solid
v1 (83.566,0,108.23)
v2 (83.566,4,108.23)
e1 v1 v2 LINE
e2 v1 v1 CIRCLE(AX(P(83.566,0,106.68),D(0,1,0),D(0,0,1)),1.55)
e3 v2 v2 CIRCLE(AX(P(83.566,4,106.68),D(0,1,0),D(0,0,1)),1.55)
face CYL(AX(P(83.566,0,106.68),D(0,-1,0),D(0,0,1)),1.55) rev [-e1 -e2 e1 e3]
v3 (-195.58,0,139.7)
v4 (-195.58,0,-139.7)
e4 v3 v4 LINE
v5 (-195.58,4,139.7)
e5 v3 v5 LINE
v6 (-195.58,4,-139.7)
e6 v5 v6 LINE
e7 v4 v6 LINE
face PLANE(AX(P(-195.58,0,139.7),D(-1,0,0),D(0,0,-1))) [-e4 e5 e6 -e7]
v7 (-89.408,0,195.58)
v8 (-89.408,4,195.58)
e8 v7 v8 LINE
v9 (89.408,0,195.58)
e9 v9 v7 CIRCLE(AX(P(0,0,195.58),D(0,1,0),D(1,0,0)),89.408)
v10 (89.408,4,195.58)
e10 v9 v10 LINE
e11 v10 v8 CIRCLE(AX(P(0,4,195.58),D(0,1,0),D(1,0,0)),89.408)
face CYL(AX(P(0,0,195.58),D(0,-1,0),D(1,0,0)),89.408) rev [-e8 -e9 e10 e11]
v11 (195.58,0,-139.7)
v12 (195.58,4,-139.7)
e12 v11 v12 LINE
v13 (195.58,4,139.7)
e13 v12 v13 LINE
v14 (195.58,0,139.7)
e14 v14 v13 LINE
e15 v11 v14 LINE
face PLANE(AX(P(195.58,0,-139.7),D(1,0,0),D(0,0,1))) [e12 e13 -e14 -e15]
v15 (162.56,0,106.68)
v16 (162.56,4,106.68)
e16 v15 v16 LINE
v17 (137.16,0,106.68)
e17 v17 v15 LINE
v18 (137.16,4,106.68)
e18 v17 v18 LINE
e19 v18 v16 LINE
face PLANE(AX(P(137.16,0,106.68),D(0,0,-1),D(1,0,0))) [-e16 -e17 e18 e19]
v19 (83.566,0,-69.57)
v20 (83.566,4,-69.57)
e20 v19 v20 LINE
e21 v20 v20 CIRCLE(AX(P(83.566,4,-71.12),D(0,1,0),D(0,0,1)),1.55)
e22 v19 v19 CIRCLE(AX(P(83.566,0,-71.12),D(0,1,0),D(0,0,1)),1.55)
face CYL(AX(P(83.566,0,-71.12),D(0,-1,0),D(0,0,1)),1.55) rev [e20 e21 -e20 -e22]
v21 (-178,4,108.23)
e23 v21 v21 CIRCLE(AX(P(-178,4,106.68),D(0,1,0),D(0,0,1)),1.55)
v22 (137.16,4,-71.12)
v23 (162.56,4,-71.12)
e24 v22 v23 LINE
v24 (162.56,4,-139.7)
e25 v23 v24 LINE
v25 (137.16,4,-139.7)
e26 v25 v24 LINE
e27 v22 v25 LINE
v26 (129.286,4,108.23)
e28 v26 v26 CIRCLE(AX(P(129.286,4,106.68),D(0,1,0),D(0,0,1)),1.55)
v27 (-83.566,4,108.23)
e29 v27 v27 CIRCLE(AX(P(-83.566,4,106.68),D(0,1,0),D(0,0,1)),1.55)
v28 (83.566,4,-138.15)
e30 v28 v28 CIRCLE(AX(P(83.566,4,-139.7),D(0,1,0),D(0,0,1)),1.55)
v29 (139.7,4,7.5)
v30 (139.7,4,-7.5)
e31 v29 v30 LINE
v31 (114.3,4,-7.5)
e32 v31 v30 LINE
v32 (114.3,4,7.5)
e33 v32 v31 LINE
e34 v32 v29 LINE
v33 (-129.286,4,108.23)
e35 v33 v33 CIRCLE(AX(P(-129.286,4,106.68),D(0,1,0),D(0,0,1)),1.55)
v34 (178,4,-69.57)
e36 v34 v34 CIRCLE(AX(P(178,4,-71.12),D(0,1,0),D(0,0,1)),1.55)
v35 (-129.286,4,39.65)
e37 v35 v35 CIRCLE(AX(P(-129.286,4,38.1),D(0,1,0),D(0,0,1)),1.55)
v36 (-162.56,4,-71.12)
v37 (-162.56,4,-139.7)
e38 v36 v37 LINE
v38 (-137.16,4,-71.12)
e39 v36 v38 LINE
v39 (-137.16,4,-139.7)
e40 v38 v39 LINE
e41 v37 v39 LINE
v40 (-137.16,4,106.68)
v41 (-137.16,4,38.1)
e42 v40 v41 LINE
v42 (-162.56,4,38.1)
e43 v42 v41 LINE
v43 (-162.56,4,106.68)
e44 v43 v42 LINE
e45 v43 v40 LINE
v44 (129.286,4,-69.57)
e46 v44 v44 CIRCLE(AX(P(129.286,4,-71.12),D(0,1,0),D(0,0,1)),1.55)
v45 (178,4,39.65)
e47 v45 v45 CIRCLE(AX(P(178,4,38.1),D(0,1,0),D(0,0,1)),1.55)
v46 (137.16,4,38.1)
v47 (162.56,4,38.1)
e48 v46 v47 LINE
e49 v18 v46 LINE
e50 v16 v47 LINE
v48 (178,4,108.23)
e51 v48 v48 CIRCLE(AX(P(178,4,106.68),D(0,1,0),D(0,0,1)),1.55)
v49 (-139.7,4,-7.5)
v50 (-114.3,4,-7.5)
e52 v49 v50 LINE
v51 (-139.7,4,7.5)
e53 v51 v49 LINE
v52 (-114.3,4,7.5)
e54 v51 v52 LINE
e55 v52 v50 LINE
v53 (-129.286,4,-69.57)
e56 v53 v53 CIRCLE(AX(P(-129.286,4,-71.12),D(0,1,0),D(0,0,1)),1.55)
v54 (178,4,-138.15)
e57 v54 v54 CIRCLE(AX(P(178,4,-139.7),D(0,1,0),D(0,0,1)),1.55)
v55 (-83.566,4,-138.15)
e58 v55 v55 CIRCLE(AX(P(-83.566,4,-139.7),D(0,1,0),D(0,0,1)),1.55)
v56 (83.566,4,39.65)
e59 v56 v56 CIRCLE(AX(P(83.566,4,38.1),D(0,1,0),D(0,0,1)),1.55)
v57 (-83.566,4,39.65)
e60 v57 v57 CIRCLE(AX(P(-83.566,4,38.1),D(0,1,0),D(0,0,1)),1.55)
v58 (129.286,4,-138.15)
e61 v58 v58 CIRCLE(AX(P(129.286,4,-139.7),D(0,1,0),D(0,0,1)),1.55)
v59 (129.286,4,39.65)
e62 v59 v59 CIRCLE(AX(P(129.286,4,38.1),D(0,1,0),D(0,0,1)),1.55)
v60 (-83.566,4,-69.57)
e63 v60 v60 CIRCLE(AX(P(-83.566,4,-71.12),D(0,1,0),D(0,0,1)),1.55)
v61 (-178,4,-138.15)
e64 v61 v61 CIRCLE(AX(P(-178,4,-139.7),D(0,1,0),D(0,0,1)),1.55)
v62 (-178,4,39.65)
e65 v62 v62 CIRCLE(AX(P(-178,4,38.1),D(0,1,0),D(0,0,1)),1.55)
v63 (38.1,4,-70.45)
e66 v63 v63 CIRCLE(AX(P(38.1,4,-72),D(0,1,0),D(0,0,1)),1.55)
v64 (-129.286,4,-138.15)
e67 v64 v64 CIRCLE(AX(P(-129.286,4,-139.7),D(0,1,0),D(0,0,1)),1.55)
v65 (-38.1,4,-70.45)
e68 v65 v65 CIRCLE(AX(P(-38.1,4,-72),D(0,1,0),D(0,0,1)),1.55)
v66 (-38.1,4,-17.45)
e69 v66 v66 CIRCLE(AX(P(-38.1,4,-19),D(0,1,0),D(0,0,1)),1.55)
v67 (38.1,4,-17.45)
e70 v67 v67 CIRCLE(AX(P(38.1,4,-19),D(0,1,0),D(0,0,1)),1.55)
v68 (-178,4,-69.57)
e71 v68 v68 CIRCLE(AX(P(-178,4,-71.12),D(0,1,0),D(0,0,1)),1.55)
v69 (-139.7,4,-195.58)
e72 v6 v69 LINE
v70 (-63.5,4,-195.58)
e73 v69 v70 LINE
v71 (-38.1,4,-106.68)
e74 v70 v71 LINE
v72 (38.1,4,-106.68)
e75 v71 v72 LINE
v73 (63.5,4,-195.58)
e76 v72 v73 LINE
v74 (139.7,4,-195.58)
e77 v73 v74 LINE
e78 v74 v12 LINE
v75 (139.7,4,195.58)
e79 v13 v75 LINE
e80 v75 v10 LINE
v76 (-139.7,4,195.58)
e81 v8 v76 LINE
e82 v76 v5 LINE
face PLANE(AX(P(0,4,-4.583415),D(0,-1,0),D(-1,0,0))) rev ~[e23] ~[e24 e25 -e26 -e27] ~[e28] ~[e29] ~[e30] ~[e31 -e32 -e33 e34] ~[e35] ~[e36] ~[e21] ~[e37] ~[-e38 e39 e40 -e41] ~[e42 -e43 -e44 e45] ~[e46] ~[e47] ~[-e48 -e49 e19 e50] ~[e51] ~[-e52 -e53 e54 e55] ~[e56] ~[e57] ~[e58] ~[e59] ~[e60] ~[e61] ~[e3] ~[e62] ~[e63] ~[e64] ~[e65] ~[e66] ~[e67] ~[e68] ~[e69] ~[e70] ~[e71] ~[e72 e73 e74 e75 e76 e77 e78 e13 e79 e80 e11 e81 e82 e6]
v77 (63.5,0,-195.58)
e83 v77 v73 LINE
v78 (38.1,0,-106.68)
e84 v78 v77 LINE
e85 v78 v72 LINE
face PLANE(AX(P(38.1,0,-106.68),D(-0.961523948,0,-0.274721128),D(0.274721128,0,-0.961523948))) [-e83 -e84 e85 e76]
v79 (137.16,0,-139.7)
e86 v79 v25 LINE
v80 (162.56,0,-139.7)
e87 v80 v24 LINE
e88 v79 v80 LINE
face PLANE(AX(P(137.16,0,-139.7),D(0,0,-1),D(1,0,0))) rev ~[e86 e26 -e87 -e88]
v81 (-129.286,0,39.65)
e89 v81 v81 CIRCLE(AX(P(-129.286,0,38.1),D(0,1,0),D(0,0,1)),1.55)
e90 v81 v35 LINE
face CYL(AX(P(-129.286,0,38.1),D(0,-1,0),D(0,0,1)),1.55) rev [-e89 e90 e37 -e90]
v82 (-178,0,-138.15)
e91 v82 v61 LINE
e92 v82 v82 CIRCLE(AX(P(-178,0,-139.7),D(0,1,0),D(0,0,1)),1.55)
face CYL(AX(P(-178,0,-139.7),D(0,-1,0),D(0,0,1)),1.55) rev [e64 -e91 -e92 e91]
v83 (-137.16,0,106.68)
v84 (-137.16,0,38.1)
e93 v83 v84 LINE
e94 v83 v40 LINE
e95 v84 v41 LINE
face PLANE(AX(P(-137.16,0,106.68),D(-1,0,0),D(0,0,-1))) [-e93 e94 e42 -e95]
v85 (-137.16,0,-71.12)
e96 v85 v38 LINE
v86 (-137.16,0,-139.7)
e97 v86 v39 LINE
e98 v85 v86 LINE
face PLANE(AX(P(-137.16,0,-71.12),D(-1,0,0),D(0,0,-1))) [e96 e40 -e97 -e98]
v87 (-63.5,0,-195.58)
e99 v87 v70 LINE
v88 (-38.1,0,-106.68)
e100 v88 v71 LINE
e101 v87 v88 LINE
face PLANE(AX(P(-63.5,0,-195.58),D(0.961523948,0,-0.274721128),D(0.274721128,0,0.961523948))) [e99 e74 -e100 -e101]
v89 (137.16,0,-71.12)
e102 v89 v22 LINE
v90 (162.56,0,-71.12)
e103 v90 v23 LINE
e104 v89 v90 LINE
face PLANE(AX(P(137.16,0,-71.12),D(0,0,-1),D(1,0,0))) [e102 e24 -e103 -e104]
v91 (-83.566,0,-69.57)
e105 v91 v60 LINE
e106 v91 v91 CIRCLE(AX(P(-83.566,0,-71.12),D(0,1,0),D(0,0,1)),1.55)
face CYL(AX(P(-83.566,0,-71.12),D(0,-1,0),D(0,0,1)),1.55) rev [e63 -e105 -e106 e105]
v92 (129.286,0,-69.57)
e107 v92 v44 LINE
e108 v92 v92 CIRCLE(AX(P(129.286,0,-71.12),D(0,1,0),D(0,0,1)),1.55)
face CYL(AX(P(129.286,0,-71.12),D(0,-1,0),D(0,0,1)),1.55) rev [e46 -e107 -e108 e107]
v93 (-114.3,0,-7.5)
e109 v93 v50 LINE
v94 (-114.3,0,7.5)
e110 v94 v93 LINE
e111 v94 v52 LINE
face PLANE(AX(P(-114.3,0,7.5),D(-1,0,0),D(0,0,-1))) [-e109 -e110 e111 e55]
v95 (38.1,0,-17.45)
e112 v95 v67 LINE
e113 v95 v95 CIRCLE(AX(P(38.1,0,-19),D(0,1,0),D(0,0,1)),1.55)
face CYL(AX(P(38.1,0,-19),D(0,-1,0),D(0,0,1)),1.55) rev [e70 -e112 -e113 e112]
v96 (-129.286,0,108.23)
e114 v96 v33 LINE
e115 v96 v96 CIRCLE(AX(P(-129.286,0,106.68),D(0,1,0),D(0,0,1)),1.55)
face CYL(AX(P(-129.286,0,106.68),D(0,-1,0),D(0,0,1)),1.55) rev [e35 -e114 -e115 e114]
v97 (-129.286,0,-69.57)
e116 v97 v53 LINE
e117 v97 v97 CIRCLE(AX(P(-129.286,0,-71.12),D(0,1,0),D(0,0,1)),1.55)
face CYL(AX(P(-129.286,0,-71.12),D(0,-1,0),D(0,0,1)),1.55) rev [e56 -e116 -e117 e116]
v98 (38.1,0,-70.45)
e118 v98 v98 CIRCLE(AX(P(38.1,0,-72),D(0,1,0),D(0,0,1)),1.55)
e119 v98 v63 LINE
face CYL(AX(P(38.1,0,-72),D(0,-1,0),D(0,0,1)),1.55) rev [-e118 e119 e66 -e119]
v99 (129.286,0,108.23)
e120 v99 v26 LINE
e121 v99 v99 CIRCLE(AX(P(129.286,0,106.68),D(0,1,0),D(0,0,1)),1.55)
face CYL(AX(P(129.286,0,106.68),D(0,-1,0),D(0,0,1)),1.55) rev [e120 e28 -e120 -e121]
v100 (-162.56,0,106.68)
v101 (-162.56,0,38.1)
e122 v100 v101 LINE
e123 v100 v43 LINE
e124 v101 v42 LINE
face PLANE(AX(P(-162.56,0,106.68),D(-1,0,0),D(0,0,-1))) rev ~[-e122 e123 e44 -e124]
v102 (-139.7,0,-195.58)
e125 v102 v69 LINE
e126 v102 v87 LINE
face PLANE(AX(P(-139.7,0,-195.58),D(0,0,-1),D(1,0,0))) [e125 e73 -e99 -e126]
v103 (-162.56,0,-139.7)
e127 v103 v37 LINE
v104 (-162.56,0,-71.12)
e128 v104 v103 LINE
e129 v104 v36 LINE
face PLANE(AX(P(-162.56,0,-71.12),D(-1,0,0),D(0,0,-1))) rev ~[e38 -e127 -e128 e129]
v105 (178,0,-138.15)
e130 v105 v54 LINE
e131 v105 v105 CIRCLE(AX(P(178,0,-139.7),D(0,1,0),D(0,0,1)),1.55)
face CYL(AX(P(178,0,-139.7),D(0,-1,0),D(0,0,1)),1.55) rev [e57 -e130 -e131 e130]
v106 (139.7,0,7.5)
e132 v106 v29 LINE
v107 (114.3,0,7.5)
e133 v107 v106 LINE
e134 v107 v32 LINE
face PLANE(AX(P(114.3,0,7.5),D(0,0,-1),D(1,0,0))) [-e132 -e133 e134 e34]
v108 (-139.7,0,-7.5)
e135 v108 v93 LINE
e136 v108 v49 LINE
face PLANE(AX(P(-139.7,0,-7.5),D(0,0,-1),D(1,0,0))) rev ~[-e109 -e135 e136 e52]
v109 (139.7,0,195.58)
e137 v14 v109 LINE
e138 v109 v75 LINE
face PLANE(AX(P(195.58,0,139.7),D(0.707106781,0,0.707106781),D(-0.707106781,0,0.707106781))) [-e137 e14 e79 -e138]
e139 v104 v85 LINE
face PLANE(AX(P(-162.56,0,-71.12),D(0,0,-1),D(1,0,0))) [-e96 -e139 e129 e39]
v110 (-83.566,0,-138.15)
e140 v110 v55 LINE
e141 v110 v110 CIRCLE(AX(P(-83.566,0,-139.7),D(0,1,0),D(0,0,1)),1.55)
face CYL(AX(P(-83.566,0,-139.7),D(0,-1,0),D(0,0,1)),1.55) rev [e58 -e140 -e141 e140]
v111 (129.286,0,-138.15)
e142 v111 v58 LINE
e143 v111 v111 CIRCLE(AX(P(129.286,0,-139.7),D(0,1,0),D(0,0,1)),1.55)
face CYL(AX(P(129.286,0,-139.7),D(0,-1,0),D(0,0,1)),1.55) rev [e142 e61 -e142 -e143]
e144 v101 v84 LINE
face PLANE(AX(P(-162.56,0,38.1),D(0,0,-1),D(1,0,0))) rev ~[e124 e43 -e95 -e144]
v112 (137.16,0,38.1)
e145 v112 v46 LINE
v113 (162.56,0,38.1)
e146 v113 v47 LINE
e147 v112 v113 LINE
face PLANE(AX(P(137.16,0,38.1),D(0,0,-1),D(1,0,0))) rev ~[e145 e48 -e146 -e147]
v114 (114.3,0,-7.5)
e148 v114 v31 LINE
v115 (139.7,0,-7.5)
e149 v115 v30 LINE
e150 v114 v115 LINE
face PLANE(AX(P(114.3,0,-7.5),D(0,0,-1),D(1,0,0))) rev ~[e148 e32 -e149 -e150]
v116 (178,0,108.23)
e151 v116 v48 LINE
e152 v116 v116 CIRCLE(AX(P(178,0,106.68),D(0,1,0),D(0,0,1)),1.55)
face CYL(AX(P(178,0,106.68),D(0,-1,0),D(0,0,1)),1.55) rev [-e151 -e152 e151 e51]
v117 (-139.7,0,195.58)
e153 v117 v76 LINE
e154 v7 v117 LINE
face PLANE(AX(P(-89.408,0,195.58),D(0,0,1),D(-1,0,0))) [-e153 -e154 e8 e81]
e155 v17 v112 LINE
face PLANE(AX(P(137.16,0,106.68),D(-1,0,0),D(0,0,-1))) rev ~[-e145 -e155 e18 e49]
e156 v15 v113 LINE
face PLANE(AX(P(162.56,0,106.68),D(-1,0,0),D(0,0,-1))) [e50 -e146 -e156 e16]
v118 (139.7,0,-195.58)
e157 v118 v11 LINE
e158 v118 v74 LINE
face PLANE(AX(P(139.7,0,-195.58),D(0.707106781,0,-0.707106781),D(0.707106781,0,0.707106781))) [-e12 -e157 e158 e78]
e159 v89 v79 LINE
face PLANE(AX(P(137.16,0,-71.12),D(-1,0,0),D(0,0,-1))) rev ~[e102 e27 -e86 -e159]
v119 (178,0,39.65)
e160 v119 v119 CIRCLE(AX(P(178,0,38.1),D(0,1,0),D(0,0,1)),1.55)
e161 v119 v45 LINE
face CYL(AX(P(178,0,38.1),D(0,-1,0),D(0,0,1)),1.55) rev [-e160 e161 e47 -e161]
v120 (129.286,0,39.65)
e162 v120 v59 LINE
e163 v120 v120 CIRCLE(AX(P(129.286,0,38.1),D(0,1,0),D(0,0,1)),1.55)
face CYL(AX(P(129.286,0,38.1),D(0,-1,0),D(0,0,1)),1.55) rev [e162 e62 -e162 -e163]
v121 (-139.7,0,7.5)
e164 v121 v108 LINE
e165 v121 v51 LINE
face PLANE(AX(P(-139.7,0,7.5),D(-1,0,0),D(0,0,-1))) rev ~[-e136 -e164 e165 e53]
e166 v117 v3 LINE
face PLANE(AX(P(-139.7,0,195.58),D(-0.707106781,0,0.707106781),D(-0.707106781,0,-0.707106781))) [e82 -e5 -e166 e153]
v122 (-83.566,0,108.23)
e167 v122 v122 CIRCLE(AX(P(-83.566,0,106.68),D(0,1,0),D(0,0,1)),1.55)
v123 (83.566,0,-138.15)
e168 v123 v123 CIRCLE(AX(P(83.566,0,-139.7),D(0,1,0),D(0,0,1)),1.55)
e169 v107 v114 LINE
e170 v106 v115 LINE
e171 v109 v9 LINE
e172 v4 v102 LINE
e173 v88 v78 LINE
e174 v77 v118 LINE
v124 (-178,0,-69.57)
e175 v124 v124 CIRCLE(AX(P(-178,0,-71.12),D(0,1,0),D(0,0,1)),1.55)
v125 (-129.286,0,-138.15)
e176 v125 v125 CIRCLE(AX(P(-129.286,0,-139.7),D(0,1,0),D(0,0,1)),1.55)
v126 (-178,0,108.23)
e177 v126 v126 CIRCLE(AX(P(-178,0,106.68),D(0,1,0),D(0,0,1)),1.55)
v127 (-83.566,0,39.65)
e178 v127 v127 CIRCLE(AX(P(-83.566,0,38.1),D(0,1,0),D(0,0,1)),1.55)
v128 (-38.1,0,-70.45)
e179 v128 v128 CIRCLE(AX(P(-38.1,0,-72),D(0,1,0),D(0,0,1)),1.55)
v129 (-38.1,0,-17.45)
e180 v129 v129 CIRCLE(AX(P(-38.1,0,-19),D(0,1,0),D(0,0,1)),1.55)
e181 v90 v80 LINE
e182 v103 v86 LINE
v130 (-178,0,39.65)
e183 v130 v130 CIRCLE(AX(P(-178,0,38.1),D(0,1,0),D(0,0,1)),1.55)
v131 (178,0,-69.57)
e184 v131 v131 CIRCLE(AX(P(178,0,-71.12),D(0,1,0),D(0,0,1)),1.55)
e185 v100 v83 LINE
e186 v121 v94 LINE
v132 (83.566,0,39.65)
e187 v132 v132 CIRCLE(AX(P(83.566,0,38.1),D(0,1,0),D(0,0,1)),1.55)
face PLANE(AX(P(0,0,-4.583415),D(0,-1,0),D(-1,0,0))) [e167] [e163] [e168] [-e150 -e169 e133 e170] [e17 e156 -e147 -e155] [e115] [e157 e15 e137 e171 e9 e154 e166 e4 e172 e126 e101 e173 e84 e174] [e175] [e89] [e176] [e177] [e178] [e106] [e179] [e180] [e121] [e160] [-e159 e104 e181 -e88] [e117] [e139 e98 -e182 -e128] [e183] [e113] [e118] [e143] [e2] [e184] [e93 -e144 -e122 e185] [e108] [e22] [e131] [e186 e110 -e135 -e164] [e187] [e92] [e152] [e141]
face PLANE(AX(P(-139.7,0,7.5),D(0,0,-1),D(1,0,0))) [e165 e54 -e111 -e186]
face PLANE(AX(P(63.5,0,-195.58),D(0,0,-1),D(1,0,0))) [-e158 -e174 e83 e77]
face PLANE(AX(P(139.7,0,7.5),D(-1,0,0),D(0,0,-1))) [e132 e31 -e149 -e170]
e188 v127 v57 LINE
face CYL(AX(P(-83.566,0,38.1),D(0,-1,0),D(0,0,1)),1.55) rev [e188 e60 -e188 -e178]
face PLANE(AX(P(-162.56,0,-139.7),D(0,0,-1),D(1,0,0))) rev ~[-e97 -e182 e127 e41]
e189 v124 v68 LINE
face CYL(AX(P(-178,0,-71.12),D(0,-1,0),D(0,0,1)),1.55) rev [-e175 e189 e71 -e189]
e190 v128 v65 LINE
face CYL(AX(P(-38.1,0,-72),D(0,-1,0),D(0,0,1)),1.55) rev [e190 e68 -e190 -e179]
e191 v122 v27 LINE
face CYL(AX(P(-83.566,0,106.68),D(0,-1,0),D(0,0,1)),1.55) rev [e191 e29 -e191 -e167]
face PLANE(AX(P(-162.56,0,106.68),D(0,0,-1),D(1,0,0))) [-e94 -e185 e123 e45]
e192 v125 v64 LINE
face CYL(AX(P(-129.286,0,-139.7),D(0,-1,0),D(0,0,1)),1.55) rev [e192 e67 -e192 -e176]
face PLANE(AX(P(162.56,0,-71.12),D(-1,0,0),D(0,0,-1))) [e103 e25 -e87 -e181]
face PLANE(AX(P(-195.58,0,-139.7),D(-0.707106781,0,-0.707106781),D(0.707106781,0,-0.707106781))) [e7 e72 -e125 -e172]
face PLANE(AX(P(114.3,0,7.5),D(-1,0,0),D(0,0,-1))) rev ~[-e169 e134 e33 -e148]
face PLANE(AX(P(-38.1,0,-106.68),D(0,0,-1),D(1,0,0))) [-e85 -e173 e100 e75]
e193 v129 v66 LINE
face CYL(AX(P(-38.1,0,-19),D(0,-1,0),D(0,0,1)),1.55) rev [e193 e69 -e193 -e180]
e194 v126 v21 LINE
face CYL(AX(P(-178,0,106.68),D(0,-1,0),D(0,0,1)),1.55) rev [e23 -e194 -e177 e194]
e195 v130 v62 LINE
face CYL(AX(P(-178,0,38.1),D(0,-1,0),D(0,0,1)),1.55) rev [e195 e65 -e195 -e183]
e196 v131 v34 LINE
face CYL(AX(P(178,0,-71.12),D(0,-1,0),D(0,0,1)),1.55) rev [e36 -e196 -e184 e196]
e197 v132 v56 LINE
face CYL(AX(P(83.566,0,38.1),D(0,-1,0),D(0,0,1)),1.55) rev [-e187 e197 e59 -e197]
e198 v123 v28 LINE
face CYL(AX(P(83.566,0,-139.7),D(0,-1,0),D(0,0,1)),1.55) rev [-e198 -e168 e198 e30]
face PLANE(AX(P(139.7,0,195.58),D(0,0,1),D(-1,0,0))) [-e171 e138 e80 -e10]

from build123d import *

# Parameters (mm, degrees)
EXTRUDE_1_DEPTH        = 4
SKETCH_1_4_OUTSIDE_W   = 503.8
SKETCH_1_4_OUTSIDE_H   = 503.8
SKETCH_1_4_OUTSIDE_R   = 1.55
SKETCH_1_4_OUTSIDE_W_2 = 25.4
SKETCH_1_4_OUTSIDE_H_2 = 68.58
SKETCH_1_4_OUTSIDE_H_3 = 15
CUT_EXTRUDE_2_DEPTH    = 4


with BuildPart() as part:
    # 草图1 → 凸台-拉伸1 (new body)
    with BuildSketch(Plane(origin=(0, 0, 0), x_dir=(1, 0, 0), z_dir=(0, 1, 0))):
        with BuildLine():
            Line((139.7, -195.58), (89.408, -195.58))
            ThreePointArc((89.408, -195.58), (0, -106.172), (-89.408, -195.58))
            Line((-89.408, -195.58), (-139.7, -195.58))
            Line((-139.7, -195.58), (-195.58, -139.7))
            Line((-195.58, -139.7), (-195.58, 139.7))
            Line((-195.58, 139.7), (-139.7, 195.58))
            Line((-139.7, 195.58), (-63.5, 195.58))
            Line((-63.5, 195.58), (-38.1, 106.68))
            Line((-38.1, 106.68), (38.1, 106.68))
            Line((38.1, 106.68), (63.5, 195.58))
            Line((63.5, 195.58), (139.7, 195.58))
            Line((139.7, 195.58), (195.58, 139.7))
            Line((195.58, 139.7), (195.58, -139.7))
            Line((195.58, -139.7), (139.7, -195.58))
        make_face()
    extrude(amount=EXTRUDE_1_DEPTH)

    # 草图1<4> outside → 切除-拉伸2 (cut)
    # profile 1 of 35: a face of its own
    with BuildSketch(Plane(origin=(0, 0, 0), x_dir=(1, 0, 0), z_dir=(0, 1, 0))):
        Rectangle(SKETCH_1_4_OUTSIDE_W, SKETCH_1_4_OUTSIDE_H)
        with BuildLine():
            Line((139.7, -195.58), (89.408, -195.58))
            ThreePointArc((89.408, -195.58), (0, -106.172), (-89.408, -195.58))
            Line((-89.408, -195.58), (-139.7, -195.58))
            Line((-139.7, -195.58), (-195.58, -139.7))
            Line((-195.58, -139.7), (-195.58, 139.7))
            Line((-195.58, 139.7), (-139.7, 195.58))
            Line((-139.7, 195.58), (-63.5, 195.58))
            Line((-63.5, 195.58), (-38.1, 106.68))
            Line((-38.1, 106.68), (38.1, 106.68))
            Line((38.1, 106.68), (63.5, 195.58))
            Line((63.5, 195.58), (139.7, 195.58))
            Line((139.7, 195.58), (195.58, 139.7))
            Line((195.58, 139.7), (195.58, -139.7))
            Line((195.58, -139.7), (139.7, -195.58))
        make_face(mode=Mode.SUBTRACT)
    # profile 2 of 35: a face of its own
    with BuildSketch(Plane(origin=(0, 0, 0), x_dir=(1, 0, 0), z_dir=(0, 1, 0))):
        with Locations((-83.566, 139.7)):
            Circle(SKETCH_1_4_OUTSIDE_R)
    # profile 3 of 35: a face of its own
    with BuildSketch(Plane(origin=(0, 0, 0), x_dir=(1, 0, 0), z_dir=(0, 1, 0))):
        with Locations((-129.286, 139.7)):
            Circle(SKETCH_1_4_OUTSIDE_R)
    # profile 4 of 35: a face of its own
    with BuildSketch(Plane(origin=(0, 0, 0), x_dir=(1, 0, 0), z_dir=(0, 1, 0))):
        with Locations((-83.566, -106.68)):
            Circle(SKETCH_1_4_OUTSIDE_R)
    # profile 5 of 35: a face of its own
    with BuildSketch(Plane(origin=(0, 0, 0), x_dir=(1, 0, 0), z_dir=(0, 1, 0))):
        with Locations((-129.286, -106.68)):
            Circle(SKETCH_1_4_OUTSIDE_R)
    # profile 6 of 35: a face of its own
    with BuildSketch(Plane(origin=(0, 0, 0), x_dir=(1, 0, 0), z_dir=(0, 1, 0))):
        with Locations((83.566, 139.7)):
            Circle(SKETCH_1_4_OUTSIDE_R)
    # profile 7 of 35: a face of its own
    with BuildSketch(Plane(origin=(0, 0, 0), x_dir=(1, 0, 0), z_dir=(0, 1, 0))):
        with Locations((129.286, 139.7)):
            Circle(SKETCH_1_4_OUTSIDE_R)
    # profile 8 of 35: a face of its own
    with BuildSketch(Plane(origin=(0, 0, 0), x_dir=(1, 0, 0), z_dir=(0, 1, 0))):
        with Locations((83.566, -106.68)):
            Circle(SKETCH_1_4_OUTSIDE_R)
    # profile 9 of 35: a face of its own
    with BuildSketch(Plane(origin=(0, 0, 0), x_dir=(1, 0, 0), z_dir=(0, 1, 0))):
        with Locations((129.286, -106.68)):
            Circle(SKETCH_1_4_OUTSIDE_R)
    # profile 10 of 35: a face of its own
    with BuildSketch(Plane(origin=(0, 0, 0), x_dir=(1, 0, 0), z_dir=(0, 1, 0))):
        with Locations((-129.286, 71.12)):
            Circle(SKETCH_1_4_OUTSIDE_R)
    # profile 11 of 35: a face of its own
    with BuildSketch(Plane(origin=(0, 0, 0), x_dir=(1, 0, 0), z_dir=(0, 1, 0))):
        with Locations((-83.566, 71.12)):
            Circle(SKETCH_1_4_OUTSIDE_R)
    # profile 12 of 35: a face of its own
    with BuildSketch(Plane(origin=(0, 0, 0), x_dir=(1, 0, 0), z_dir=(0, 1, 0))):
        with Locations((83.566, 71.12)):
            Circle(SKETCH_1_4_OUTSIDE_R)
    # profile 13 of 35: a face of its own
    with BuildSketch(Plane(origin=(0, 0, 0), x_dir=(1, 0, 0), z_dir=(0, 1, 0))):
        with Locations((129.286, 71.12)):
            Circle(SKETCH_1_4_OUTSIDE_R)
    # profile 14 of 35: a face of its own
    with BuildSketch(Plane(origin=(0, 0, 0), x_dir=(1, 0, 0), z_dir=(0, 1, 0))):
        with Locations((-129.286, -38.1)):
            Circle(SKETCH_1_4_OUTSIDE_R)
    # profile 15 of 35: a face of its own
    with BuildSketch(Plane(origin=(0, 0, 0), x_dir=(1, 0, 0), z_dir=(0, 1, 0))):
        with Locations((-83.566, -38.1)):
            Circle(SKETCH_1_4_OUTSIDE_R)
    # profile 16 of 35: a face of its own
    with BuildSketch(Plane(origin=(0, 0, 0), x_dir=(1, 0, 0), z_dir=(0, 1, 0))):
        with Locations((83.566, -38.1)):
            Circle(SKETCH_1_4_OUTSIDE_R)
    # profile 17 of 35: a face of its own
    with BuildSketch(Plane(origin=(0, 0, 0), x_dir=(1, 0, 0), z_dir=(0, 1, 0))):
        with Locations((129.286, -38.1)):
            Circle(SKETCH_1_4_OUTSIDE_R)
    # profile 18 of 35: a face of its own
    with BuildSketch(Plane(origin=(0, 0, 0), x_dir=(1, 0, 0), z_dir=(0, 1, 0))):
        with Locations((-178, -38.1)):
            Circle(SKETCH_1_4_OUTSIDE_R)
    # profile 19 of 35: a face of its own
    with BuildSketch(Plane(origin=(0, 0, 0), x_dir=(1, 0, 0), z_dir=(0, 1, 0))):
        with Locations((-178, -106.68)):
            Circle(SKETCH_1_4_OUTSIDE_R)
    # profile 20 of 35: a face of its own
    with BuildSketch(Plane(origin=(0, 0, 0), x_dir=(1, 0, 0), z_dir=(0, 1, 0))):
        with Locations((178, -106.68)):
            Circle(SKETCH_1_4_OUTSIDE_R)
    # profile 21 of 35: a face of its own
    with BuildSketch(Plane(origin=(0, 0, 0), x_dir=(1, 0, 0), z_dir=(0, 1, 0))):
        with Locations((178, -38.1)):
            Circle(SKETCH_1_4_OUTSIDE_R)
    # profile 22 of 35: a face of its own
    with BuildSketch(Plane(origin=(0, 0, 0), x_dir=(1, 0, 0), z_dir=(0, 1, 0))):
        with Locations((-178, 139.7)):
            Circle(SKETCH_1_4_OUTSIDE_R)
    # profile 23 of 35: a face of its own
    with BuildSketch(Plane(origin=(0, 0, 0), x_dir=(1, 0, 0), z_dir=(0, 1, 0))):
        with Locations((-178, 71.12)):
            Circle(SKETCH_1_4_OUTSIDE_R)
    # profile 24 of 35: a face of its own
    with BuildSketch(Plane(origin=(0, 0, 0), x_dir=(1, 0, 0), z_dir=(0, 1, 0))):
        with Locations((178, 139.7)):
            Circle(SKETCH_1_4_OUTSIDE_R)
    # profile 25 of 35: a face of its own
    with BuildSketch(Plane(origin=(0, 0, 0), x_dir=(1, 0, 0), z_dir=(0, 1, 0))):
        with Locations((178, 71.12)):
            Circle(SKETCH_1_4_OUTSIDE_R)
    # profile 26 of 35: a face of its own
    with BuildSketch(Plane(origin=(0, 0, 0), x_dir=(1, 0, 0), z_dir=(0, 1, 0))):
        with Locations((-38.1, 72)):
            Circle(SKETCH_1_4_OUTSIDE_R)
    # profile 27 of 35: a face of its own
    with BuildSketch(Plane(origin=(0, 0, 0), x_dir=(1, 0, 0), z_dir=(0, 1, 0))):
        with Locations((38.1, 72)):
            Circle(SKETCH_1_4_OUTSIDE_R)
    # profile 28 of 35: a face of its own
    with BuildSketch(Plane(origin=(0, 0, 0), x_dir=(1, 0, 0), z_dir=(0, 1, 0))):
        with Locations((-38.1, 19)):
            Circle(SKETCH_1_4_OUTSIDE_R)
    # profile 29 of 35: a face of its own
    with BuildSketch(Plane(origin=(0, 0, 0), x_dir=(1, 0, 0), z_dir=(0, 1, 0))):
        with Locations((38.1, 19)):
            Circle(SKETCH_1_4_OUTSIDE_R)
    # profile 30 of 35: a face of its own
    with BuildSketch(Plane(origin=(0, 0, 0), x_dir=(1, 0, 0), z_dir=(0, 1, 0))):
        with Locations((-149.86, 105.41)):
            Rectangle(SKETCH_1_4_OUTSIDE_W_2, SKETCH_1_4_OUTSIDE_H_2)
    # profile 31 of 35: a face of its own
    with BuildSketch(Plane(origin=(0, 0, 0), x_dir=(1, 0, 0), z_dir=(0, 1, 0))):
        with Locations((149.86, 105.41)):
            Rectangle(SKETCH_1_4_OUTSIDE_W_2, SKETCH_1_4_OUTSIDE_H_2)
    # profile 32 of 35: a face of its own
    with BuildSketch(Plane(origin=(0, 0, 0), x_dir=(1, 0, 0), z_dir=(0, 1, 0))):
        with Locations((149.86, -72.39)):
            Rectangle(SKETCH_1_4_OUTSIDE_W_2, SKETCH_1_4_OUTSIDE_H_2)
    # profile 33 of 35: a face of its own
    with BuildSketch(Plane(origin=(0, 0, 0), x_dir=(1, 0, 0), z_dir=(0, 1, 0))):
        with Locations((-149.86, -72.39)):
            Rectangle(SKETCH_1_4_OUTSIDE_W_2, SKETCH_1_4_OUTSIDE_H_2)
    # profile 34 of 35: a face of its own
    with BuildSketch(Plane(origin=(0, 0, 0), x_dir=(1, 0, 0), z_dir=(0, 1, 0))):
        with Locations((-127, 0)):
            Rectangle(SKETCH_1_4_OUTSIDE_W_2, SKETCH_1_4_OUTSIDE_H_3)
    # profile 35 of 35: a face of its own
    with BuildSketch(Plane(origin=(0, 0, 0), x_dir=(1, 0, 0), z_dir=(0, 1, 0))):
        with Locations((127, 0)):
            Rectangle(SKETCH_1_4_OUTSIDE_W_2, SKETCH_1_4_OUTSIDE_H_3)
    extrude(amount=CUT_EXTRUDE_2_DEPTH, mode=Mode.SUBTRACT)


solid = part.part
